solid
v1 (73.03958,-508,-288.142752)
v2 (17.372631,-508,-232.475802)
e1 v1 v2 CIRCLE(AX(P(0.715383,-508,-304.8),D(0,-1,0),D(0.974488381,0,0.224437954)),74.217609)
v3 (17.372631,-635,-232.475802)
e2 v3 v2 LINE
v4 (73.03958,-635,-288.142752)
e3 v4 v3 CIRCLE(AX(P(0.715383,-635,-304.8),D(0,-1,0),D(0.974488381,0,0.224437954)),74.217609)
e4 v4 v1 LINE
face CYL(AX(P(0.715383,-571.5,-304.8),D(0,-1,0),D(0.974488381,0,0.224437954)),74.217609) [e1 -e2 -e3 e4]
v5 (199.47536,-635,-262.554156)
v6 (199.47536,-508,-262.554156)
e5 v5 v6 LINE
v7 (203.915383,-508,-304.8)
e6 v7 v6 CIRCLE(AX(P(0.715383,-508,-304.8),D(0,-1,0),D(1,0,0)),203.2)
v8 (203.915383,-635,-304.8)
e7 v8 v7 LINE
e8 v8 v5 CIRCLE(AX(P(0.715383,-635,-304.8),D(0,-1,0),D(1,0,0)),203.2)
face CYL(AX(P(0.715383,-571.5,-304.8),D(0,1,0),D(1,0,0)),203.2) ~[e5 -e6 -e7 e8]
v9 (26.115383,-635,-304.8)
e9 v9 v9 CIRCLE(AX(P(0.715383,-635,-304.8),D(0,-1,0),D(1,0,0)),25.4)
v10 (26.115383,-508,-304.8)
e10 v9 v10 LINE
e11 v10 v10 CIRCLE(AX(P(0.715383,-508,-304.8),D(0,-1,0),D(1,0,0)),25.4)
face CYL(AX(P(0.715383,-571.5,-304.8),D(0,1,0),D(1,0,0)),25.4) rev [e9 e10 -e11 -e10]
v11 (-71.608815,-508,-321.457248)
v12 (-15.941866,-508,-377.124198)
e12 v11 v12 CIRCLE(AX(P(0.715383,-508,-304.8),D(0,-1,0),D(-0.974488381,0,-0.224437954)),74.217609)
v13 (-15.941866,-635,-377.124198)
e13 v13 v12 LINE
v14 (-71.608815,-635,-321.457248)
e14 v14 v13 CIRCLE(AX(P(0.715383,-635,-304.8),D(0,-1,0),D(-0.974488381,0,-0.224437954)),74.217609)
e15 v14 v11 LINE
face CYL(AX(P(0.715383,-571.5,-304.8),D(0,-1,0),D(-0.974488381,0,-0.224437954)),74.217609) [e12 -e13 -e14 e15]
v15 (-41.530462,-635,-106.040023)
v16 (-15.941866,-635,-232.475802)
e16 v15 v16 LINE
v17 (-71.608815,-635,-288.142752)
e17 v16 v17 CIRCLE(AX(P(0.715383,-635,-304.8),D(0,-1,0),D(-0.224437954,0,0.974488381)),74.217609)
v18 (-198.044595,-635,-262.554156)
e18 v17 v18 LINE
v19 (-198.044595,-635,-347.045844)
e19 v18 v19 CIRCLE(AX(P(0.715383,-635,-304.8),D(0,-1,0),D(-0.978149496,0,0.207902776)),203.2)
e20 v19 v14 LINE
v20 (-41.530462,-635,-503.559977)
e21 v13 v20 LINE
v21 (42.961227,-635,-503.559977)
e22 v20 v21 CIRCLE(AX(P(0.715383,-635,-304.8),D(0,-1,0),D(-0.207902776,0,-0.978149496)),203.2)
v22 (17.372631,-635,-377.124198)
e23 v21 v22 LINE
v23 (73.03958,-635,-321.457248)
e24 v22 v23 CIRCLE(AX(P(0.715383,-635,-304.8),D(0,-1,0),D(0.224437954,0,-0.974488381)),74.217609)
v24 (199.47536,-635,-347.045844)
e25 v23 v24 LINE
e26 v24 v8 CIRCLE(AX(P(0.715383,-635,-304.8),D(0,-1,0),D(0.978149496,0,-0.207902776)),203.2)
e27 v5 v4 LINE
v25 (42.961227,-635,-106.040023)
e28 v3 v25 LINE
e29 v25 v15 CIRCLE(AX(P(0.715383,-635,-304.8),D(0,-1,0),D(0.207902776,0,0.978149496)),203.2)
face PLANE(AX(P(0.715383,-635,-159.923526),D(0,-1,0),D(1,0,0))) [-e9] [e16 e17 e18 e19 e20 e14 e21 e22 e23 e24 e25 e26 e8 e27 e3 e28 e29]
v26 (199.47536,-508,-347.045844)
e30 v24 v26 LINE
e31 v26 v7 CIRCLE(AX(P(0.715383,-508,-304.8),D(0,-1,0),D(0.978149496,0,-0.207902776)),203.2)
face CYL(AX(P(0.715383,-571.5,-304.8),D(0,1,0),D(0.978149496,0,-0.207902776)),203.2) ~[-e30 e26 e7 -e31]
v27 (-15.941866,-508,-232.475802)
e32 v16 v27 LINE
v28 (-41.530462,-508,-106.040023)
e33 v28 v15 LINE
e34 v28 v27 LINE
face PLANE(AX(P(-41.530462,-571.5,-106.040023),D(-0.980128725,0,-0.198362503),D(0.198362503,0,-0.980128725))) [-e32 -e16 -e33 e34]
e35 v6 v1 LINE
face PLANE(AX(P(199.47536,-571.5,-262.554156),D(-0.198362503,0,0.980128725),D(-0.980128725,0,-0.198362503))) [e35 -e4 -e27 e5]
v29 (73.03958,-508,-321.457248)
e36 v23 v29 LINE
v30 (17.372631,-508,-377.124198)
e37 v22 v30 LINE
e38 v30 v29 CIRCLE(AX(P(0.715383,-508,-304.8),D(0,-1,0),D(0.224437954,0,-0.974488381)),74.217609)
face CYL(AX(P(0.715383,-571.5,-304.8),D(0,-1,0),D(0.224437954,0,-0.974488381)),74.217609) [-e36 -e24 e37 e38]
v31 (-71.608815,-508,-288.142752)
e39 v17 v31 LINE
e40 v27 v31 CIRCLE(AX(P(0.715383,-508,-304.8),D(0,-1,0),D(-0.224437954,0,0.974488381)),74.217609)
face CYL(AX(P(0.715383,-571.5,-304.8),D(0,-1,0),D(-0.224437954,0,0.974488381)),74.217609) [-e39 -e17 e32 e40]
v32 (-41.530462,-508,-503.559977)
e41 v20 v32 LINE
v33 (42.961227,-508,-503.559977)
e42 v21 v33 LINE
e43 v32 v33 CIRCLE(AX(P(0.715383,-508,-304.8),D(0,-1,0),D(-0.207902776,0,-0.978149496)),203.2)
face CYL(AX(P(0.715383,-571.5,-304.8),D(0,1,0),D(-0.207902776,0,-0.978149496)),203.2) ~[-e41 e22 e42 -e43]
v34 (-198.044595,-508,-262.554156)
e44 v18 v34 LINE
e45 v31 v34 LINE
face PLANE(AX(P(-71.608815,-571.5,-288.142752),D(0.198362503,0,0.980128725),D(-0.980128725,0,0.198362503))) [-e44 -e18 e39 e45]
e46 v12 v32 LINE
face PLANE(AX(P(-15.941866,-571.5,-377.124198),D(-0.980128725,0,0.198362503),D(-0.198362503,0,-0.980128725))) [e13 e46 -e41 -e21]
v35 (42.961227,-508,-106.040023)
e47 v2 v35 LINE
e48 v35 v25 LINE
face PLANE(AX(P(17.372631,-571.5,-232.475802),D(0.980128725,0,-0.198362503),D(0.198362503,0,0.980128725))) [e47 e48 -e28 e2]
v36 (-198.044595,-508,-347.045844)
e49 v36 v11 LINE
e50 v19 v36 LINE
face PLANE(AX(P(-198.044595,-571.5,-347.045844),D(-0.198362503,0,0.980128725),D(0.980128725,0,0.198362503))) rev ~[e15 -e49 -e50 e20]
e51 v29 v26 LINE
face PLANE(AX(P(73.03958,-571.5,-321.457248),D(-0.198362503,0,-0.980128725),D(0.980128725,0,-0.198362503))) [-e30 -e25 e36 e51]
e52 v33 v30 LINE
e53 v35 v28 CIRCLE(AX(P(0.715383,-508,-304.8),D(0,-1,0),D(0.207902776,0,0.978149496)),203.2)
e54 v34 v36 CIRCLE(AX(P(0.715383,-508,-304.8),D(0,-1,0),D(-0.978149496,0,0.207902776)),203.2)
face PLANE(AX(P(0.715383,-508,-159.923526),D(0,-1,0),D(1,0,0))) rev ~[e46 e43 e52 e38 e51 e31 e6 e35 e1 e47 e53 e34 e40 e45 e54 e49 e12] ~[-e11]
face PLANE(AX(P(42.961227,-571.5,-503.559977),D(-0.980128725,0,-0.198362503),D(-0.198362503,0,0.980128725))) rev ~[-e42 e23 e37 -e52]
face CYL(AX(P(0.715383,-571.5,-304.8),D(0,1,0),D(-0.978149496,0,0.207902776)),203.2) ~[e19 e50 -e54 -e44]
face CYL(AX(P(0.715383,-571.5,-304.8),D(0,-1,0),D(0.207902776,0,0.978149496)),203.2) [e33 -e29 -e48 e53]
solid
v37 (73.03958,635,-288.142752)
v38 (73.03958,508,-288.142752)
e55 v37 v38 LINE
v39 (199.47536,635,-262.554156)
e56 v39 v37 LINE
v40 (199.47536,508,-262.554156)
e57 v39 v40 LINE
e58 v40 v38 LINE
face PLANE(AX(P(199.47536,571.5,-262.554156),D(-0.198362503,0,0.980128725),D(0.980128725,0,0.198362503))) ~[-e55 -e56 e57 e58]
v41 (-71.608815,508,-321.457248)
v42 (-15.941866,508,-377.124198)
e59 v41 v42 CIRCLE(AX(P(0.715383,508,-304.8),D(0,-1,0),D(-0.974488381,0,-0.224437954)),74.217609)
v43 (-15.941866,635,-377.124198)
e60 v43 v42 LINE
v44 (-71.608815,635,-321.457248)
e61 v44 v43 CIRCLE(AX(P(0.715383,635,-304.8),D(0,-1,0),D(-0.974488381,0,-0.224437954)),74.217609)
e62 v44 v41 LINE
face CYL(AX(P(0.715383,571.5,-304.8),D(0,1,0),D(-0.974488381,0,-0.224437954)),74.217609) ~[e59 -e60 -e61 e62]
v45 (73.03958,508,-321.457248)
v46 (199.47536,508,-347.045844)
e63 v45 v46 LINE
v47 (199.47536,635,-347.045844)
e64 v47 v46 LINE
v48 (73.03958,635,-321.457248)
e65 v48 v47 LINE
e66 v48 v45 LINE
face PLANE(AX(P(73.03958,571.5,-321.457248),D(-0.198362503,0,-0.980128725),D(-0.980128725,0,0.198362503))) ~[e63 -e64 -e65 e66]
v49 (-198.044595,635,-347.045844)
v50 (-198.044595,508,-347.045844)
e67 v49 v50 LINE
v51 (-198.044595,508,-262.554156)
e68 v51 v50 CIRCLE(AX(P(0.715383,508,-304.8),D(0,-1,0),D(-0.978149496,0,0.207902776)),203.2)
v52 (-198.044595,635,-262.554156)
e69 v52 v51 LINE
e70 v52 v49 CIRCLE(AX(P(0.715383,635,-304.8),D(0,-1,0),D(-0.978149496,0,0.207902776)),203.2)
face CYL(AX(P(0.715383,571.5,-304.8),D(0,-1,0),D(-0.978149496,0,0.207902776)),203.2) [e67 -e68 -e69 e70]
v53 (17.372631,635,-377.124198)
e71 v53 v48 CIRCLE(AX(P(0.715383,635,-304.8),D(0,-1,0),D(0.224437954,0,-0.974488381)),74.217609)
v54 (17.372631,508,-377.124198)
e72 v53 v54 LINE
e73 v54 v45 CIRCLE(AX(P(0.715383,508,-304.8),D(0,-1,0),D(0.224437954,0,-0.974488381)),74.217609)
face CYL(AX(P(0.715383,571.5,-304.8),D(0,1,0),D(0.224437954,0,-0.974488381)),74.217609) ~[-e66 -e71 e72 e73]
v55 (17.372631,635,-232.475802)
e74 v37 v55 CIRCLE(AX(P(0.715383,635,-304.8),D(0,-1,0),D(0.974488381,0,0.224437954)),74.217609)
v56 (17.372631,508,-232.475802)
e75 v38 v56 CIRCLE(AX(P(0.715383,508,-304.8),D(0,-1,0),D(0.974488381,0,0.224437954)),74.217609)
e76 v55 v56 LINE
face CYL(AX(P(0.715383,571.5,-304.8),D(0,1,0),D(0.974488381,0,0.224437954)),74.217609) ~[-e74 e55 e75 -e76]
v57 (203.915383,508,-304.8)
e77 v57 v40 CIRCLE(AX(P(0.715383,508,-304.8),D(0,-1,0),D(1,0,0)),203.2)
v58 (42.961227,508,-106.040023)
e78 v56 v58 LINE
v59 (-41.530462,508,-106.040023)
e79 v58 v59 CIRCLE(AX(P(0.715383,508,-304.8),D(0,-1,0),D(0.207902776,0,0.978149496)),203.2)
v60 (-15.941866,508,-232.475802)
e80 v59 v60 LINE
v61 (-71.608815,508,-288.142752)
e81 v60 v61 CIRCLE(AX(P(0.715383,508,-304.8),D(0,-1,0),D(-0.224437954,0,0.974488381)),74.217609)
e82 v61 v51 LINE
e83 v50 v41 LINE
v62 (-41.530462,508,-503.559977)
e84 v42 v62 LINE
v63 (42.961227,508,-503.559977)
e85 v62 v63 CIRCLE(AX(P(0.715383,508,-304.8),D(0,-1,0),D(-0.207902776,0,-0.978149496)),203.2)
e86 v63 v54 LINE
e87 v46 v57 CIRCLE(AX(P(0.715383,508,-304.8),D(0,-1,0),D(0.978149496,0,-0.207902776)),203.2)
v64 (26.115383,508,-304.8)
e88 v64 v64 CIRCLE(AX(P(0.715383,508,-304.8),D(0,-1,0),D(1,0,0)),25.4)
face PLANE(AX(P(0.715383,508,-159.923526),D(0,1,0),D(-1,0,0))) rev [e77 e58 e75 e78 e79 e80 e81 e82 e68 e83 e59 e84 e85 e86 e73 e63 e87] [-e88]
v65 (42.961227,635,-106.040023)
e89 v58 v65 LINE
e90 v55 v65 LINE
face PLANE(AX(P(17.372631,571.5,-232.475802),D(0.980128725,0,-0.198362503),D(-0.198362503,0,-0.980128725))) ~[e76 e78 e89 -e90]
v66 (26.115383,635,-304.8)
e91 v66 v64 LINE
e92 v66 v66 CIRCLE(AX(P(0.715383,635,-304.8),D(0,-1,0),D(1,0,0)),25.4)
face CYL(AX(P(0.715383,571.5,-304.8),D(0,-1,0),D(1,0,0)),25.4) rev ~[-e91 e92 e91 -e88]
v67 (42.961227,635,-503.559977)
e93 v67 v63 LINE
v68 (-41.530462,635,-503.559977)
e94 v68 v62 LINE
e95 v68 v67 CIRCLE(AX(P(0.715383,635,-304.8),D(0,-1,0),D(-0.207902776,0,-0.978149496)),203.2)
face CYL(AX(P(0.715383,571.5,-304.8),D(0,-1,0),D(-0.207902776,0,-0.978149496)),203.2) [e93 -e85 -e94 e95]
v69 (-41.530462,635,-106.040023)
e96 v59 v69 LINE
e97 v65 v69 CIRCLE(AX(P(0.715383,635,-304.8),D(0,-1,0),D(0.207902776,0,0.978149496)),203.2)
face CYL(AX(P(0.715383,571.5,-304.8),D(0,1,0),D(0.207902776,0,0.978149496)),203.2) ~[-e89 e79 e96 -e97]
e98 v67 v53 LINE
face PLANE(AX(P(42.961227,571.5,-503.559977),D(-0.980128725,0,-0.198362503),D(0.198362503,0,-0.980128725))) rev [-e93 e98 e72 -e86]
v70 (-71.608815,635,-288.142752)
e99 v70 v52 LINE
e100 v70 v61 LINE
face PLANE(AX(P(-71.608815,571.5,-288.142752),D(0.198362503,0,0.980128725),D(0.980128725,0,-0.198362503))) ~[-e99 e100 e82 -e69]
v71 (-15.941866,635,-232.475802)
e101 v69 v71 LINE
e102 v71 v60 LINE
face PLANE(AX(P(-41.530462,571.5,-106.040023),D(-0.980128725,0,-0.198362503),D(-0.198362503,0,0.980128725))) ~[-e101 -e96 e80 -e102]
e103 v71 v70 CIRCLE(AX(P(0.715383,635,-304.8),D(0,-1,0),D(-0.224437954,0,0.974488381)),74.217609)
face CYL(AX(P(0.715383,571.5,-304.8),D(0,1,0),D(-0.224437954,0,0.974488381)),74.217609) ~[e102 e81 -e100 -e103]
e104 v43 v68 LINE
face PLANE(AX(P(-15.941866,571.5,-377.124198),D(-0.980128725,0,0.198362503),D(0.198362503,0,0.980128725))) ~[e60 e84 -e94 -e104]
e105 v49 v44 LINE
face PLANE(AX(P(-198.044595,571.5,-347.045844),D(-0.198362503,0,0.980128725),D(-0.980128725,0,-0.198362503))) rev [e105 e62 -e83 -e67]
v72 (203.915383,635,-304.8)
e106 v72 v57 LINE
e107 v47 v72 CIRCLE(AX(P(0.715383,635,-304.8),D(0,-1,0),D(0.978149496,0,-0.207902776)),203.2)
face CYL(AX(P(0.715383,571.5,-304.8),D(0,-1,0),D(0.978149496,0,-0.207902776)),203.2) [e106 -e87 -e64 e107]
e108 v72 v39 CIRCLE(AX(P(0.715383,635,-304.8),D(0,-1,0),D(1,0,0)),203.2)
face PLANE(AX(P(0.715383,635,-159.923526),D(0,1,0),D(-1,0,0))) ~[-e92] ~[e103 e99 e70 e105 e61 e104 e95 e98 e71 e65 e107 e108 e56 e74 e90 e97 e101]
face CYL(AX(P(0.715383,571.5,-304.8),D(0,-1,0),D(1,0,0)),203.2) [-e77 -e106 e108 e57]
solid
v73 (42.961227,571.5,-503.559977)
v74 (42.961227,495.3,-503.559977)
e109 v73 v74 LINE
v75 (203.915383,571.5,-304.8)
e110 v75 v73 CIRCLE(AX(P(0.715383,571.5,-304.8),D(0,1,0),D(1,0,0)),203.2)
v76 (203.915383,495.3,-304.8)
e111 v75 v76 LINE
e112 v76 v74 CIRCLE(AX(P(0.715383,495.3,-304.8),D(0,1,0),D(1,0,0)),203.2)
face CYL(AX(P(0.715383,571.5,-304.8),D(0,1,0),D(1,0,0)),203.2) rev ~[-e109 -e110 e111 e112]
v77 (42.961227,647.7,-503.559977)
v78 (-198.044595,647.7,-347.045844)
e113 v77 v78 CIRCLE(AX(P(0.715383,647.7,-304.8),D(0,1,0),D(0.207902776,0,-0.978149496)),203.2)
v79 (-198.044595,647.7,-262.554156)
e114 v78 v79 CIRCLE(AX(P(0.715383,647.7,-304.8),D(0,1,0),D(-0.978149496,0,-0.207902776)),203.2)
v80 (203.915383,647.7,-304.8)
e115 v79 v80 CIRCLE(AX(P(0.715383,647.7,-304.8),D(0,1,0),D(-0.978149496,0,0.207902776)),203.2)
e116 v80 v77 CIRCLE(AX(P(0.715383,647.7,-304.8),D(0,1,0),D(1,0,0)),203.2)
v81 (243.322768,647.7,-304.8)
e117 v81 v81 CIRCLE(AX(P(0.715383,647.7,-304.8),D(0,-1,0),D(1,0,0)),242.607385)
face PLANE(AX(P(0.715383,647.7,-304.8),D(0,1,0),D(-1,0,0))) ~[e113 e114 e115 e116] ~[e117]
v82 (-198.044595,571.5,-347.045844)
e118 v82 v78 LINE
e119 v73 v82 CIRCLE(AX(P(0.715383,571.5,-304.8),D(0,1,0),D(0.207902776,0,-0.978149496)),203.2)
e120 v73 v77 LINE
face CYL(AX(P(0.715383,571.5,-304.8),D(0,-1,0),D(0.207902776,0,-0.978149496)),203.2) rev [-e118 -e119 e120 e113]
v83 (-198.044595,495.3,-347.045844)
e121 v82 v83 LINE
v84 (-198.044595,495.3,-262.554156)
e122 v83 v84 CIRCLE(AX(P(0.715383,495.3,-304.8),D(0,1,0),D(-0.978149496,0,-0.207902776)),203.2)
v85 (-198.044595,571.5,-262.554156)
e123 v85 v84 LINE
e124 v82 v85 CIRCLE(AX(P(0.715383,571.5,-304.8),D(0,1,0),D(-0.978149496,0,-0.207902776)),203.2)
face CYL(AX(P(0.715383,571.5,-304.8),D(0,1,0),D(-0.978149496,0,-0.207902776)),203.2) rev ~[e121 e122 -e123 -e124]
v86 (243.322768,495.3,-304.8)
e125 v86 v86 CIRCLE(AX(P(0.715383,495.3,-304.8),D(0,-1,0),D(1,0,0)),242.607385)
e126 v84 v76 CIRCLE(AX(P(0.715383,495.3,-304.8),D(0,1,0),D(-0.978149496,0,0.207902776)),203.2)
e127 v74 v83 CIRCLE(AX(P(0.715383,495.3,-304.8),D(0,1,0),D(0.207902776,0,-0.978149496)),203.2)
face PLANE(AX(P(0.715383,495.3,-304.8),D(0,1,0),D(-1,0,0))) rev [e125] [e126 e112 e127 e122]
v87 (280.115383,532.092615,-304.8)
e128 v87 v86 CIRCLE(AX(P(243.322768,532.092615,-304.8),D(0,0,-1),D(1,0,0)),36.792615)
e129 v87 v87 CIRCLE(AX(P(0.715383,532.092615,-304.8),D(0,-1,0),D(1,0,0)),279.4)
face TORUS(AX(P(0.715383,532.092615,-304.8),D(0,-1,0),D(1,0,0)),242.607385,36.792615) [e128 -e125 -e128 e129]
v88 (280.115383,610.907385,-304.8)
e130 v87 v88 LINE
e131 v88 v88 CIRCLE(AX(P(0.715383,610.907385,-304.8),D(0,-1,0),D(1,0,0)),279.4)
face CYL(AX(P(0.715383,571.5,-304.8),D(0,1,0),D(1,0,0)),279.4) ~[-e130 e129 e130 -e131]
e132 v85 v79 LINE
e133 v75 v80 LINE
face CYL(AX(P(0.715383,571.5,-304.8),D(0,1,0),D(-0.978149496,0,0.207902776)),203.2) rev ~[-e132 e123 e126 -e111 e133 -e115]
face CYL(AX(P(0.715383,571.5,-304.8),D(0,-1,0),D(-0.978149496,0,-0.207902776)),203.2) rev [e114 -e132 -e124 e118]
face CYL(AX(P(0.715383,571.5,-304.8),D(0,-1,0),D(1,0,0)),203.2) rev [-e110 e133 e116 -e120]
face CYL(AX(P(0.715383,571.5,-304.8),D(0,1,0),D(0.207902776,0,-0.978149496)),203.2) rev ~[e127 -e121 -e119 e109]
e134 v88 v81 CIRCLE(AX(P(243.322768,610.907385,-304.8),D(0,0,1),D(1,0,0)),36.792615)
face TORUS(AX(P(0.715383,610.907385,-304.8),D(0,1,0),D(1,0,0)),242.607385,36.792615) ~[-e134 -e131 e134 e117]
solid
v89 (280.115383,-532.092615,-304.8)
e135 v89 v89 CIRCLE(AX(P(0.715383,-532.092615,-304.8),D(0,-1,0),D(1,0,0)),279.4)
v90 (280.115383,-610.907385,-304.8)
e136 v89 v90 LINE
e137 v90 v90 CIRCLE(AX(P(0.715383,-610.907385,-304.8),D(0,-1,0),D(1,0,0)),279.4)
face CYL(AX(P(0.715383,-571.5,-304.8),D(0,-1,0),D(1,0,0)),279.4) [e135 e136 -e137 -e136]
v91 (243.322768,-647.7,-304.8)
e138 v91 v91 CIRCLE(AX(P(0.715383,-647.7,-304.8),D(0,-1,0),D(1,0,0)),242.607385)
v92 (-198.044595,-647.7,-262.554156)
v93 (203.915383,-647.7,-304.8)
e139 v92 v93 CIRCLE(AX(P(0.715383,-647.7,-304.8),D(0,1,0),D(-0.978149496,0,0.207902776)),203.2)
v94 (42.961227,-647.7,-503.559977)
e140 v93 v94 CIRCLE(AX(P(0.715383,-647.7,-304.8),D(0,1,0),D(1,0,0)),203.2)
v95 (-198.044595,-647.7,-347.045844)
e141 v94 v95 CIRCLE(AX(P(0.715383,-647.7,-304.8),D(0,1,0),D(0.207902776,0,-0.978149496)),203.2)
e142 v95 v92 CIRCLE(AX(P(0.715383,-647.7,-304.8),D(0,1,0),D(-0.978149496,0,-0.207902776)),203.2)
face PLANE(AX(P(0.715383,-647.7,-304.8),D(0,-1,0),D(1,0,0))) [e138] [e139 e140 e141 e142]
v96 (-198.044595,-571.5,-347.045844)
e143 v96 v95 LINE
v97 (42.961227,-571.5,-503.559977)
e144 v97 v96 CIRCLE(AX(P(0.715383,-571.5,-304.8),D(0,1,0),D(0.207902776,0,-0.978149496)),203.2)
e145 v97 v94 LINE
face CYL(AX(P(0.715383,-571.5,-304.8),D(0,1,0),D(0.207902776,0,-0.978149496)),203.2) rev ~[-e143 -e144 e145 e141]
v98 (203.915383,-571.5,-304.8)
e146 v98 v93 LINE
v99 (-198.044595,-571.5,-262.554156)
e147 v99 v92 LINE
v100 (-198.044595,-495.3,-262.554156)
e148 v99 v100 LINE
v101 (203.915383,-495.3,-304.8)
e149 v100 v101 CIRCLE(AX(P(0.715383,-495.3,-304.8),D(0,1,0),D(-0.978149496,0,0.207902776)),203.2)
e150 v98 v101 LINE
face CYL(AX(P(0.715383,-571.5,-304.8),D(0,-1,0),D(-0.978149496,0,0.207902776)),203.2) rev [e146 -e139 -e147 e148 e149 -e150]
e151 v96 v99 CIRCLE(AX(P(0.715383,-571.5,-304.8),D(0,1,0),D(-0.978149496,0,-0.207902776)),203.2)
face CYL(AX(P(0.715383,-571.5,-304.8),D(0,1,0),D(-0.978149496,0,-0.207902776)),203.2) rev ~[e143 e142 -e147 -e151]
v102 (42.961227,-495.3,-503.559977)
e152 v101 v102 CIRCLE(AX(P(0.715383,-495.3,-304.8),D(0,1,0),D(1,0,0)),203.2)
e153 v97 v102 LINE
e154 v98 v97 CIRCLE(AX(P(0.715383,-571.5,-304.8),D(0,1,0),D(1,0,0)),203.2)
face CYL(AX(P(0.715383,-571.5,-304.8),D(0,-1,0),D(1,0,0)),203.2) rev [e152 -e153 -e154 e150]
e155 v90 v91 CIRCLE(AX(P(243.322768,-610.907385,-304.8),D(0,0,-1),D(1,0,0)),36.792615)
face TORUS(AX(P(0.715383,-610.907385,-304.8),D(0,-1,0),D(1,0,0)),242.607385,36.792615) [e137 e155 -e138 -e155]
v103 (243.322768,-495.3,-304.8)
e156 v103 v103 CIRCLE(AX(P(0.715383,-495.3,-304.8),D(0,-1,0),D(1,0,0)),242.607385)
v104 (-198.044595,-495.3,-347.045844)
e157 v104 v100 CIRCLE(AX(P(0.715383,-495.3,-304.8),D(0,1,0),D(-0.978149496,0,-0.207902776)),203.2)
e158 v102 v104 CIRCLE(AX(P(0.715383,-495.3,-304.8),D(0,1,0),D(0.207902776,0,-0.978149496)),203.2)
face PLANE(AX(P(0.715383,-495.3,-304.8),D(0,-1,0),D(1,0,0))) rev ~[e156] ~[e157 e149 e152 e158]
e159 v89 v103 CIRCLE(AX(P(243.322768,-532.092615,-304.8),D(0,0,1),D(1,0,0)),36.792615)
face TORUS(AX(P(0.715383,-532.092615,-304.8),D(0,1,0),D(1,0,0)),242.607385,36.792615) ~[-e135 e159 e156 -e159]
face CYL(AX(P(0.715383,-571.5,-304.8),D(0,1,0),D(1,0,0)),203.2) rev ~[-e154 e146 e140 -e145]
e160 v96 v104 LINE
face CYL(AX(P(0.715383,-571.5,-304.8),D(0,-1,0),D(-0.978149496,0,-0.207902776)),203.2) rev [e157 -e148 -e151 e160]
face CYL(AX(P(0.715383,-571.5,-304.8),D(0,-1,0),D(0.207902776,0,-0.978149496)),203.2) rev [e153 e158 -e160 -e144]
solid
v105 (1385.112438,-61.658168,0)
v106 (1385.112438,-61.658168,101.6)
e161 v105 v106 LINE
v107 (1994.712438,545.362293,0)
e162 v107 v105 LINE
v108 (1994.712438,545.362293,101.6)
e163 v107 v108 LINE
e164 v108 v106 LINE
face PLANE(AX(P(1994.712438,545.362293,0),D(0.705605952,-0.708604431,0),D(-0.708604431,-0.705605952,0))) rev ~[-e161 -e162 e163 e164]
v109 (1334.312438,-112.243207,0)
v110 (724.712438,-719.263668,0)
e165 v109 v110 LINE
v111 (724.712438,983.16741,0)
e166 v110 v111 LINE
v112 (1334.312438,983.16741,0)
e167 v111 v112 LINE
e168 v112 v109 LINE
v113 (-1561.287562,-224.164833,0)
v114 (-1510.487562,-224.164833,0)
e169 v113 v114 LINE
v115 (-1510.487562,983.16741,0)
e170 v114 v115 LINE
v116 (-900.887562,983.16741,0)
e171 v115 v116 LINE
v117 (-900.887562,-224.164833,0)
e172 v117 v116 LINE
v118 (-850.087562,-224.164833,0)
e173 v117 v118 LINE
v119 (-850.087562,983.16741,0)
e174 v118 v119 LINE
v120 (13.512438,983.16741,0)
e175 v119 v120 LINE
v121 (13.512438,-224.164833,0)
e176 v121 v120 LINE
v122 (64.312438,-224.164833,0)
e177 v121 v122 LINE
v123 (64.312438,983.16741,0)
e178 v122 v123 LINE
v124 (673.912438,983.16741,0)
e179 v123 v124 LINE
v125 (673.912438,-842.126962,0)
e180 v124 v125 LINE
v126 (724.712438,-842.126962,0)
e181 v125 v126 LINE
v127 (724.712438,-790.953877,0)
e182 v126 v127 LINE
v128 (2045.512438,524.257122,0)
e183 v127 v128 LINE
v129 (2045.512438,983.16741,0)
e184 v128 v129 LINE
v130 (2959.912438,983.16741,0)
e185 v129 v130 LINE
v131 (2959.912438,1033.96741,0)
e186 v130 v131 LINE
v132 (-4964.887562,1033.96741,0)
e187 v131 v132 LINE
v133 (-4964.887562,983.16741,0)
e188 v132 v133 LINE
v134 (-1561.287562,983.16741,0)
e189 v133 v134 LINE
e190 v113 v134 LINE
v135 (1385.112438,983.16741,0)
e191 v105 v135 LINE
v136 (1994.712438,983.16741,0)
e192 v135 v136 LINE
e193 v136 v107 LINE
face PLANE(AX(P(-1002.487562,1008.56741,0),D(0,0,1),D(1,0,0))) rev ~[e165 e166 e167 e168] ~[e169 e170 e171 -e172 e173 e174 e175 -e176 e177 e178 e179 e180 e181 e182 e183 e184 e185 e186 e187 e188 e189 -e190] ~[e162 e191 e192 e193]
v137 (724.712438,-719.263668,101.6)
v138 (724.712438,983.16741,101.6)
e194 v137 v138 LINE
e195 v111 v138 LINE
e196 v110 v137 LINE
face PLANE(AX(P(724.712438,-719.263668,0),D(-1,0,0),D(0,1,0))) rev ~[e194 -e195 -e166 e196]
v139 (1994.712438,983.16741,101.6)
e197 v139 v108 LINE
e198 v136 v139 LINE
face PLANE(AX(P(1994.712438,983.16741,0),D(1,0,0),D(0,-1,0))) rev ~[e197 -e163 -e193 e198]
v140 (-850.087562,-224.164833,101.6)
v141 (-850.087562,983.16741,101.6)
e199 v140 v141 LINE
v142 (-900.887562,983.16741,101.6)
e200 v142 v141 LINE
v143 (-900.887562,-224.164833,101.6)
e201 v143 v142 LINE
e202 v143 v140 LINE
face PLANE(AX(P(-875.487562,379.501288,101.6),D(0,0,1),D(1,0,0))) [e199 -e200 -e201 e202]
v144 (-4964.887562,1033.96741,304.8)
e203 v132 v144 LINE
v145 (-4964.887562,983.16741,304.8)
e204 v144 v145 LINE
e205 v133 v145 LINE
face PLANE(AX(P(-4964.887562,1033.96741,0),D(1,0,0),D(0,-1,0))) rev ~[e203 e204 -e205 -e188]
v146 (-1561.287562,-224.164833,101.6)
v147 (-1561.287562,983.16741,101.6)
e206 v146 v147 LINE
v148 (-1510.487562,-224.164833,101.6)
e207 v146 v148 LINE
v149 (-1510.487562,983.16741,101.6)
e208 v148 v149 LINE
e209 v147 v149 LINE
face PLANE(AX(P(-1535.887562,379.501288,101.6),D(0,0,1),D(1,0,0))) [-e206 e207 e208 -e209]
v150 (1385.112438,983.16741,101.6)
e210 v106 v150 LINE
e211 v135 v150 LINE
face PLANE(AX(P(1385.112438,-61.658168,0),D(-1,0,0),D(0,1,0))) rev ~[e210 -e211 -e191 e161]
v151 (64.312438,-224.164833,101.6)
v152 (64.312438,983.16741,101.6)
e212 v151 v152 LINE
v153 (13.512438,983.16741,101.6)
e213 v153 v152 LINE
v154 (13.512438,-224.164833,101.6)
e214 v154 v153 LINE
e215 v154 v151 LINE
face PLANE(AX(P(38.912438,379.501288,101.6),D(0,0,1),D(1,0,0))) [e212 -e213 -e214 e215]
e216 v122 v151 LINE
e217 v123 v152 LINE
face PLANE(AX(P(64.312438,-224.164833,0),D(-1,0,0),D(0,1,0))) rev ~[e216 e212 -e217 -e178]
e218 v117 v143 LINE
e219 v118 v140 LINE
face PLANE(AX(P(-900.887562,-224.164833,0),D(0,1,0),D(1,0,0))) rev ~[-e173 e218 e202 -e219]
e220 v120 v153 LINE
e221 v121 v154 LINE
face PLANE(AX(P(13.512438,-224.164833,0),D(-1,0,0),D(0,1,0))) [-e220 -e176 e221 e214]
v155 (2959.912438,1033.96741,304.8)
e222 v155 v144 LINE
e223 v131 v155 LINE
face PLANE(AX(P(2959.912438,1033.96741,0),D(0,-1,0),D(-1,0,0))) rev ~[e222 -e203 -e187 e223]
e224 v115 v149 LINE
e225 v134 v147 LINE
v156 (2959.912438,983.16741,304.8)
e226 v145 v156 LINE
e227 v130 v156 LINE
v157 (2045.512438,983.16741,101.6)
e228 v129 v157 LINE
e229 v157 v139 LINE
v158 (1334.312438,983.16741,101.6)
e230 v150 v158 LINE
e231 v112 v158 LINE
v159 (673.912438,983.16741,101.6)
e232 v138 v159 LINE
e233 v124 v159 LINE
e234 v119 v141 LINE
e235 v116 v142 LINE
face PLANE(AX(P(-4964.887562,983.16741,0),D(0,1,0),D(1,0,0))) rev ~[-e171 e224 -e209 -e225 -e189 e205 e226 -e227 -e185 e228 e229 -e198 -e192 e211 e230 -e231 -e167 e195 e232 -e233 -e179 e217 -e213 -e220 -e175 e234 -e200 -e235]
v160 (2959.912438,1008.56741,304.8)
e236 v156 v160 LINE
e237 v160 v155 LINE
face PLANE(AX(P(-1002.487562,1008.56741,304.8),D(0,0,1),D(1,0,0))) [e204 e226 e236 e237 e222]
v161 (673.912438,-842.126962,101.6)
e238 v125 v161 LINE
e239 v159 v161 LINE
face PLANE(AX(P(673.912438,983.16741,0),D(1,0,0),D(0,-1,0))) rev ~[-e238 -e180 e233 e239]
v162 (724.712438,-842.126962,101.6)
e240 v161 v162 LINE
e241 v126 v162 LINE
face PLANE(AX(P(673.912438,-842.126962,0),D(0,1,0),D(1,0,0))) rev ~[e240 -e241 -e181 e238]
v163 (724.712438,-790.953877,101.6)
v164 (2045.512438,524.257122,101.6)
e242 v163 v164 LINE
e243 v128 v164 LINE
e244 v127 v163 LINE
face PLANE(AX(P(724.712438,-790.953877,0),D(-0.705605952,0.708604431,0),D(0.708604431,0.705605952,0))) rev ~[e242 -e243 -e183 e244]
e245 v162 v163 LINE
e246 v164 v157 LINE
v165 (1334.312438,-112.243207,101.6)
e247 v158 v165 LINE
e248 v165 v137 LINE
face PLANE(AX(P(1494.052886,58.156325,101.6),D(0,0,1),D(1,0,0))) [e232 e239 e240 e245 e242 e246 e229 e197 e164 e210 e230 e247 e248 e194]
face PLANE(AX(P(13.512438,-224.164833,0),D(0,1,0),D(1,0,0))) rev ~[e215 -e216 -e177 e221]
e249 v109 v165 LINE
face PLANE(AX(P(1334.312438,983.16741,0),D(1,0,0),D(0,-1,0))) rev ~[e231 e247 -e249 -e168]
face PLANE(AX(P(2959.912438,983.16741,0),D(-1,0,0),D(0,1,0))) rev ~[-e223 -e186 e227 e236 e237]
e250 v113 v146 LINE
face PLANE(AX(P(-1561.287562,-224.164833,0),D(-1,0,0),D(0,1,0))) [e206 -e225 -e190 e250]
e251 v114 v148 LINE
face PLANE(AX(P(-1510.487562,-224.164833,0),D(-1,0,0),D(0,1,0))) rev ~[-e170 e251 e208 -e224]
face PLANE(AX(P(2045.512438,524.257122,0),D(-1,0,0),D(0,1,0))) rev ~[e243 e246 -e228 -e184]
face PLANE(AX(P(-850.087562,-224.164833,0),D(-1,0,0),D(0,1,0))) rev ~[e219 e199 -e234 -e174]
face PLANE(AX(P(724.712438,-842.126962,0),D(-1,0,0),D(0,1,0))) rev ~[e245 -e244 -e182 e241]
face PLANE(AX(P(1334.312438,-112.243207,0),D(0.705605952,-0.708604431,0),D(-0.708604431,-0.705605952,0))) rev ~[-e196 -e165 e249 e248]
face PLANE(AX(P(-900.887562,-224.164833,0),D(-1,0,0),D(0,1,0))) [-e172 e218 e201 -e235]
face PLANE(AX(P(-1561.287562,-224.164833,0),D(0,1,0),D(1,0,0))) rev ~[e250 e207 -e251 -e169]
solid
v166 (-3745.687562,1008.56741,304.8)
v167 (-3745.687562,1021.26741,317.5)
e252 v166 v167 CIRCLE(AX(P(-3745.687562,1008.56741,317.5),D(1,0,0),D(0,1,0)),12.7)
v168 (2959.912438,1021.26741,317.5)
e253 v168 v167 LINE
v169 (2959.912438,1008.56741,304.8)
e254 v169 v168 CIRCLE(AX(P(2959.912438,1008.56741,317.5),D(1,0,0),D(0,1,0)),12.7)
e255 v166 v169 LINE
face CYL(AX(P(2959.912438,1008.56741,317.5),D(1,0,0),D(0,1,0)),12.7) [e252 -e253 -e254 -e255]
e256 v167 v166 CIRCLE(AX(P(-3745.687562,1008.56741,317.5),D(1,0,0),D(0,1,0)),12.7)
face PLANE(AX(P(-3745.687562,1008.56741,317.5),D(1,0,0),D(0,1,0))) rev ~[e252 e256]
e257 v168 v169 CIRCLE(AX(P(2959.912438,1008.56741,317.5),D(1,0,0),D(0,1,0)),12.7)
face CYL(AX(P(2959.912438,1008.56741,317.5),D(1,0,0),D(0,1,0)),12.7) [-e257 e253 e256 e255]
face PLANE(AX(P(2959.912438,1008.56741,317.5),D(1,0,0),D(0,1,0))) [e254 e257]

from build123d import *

# Parameters (mm, degrees)
F1_DEPTH = 304.8
F0_W     = 50.8
F0_H     = 1207.3322428613
F2_DEPTH = 101.6
F3_R     = 12.7
F4_DEPTH = 6705.6
F6_R     = 279.4
F7_DEPTH = 76.2
F8_R     = 36.7926146906
F6_R_2   = 25.4
F9_DEPTH = 63.5


with BuildPart() as f1:
    # F0 (on Top) → F1 (new body)
    with BuildSketch(Plane.XY):
        Polygon((2959.9124378204, 1033.9674098969), (-4964.8875621796, 1033.9674098968), (-4964.8875621796, 983.1674098968), (-4660.0875621796, 983.1674098968), (-4202.8875621796, 983.1674098968), (-3898.0875621796, 983.1674098968), (-3491.6875621796, 983.1674098968), (-1561.2875621796, 983.1674098968), (-1510.4875621796, 983.1674098968), (-900.8875621796, 983.1674098968), (-850.0875621796, 983.1674098968), (13.5124378204, 983.1674098969), (64.3124378204, 983.1674098969), (673.9124378204, 983.1674098969), (724.7124378204, 983.1674098969), (1334.3124378204, 983.1674098969), (1385.1124378204, 983.1674098969), (1468.616296829, 983.1674098969), (1544.816296829, 983.1674098969), (1994.7124378204, 983.1674098969), (2045.5124378204, 983.1674098969), (2959.9124378204, 983.1674098969), align=None)
    extrude(amount=F1_DEPTH)

    # F0 (on Top) → F2 (join)
    with BuildSketch(Plane.XY):
        Polygon((2045.5124378204, 524.2571219418), (2045.5124378204, 983.1674098969), (1994.7124378204, 983.1674098969), (1994.7124378204, 545.3622928389), (1385.1124378204, -61.6581682041), (1334.3124378204, -112.2432066244), (724.7124378204, -719.2636676675), (724.7124378204, -790.9538769849), align=None)
        Polygon((1334.3124378204, -112.2432066244), (1385.1124378204, -61.6581682041), (1385.1124378204, 983.1674098969), (1334.3124378204, 983.1674098969), align=None)
        Polygon((724.7124378204, -842.1269621186), (724.7124378204, -790.9538769849), (724.7124378204, -719.2636676675), (724.7124378204, 983.1674098969), (673.9124378204, 983.1674098969), (673.9124378204, -842.1269621186), align=None)
        with Locations((38.9124378204, 379.5012884662)):
            Rectangle(F0_W, F0_H)
        with Locations((-875.4875621796, 379.5012884662)):
            Rectangle(F0_W, F0_H)
        with Locations((-1535.8875621796, 379.5012884662)):
            Rectangle(F0_W, F0_H)
    extrude(amount=F2_DEPTH)

    # F3 (on face) → F4 (join)
    with BuildSketch(Plane.YZ.offset(2959.9124378204)):
        with Locations((1008.5674098969, 317.5)):
            Circle(F3_R)
    extrude(amount=-F4_DEPTH)


with BuildPart() as f7:
    # F6 (on offset) → F7 (new body, symmetric)
    with BuildSketch(Plane.XZ.offset(571.5)):
        with Locations((0.7153825136, -304.8)):
            Circle(F6_R)
        with BuildLine():
            ThreePointArc((199.4753600063, -262.5541558601), (202.8023284385, -283.5607371423), (203.9153825136, -304.8))
            ThreePointArc((203.9153825136, -304.8), (202.8023284385, -326.0392628577), (199.4753600063, -347.0458441399))
            ThreePointArc((199.4753600063, -347.0458441399), (144.3994804507, -448.4840979371), (42.9612266535, -503.5599774927))
            ThreePointArc((42.9612266535, -503.5599774927), (0.7153825136, -508), (-41.5304616264, -503.5599774927))
            ThreePointArc((-41.5304616264, -503.5599774927), (-142.9687154235, -448.4840979371), (-198.0445949791, -347.0458441399))
            ThreePointArc((-198.0445949791, -347.0458441399), (-202.4846174864, -304.8), (-198.0445949791, -262.5541558601))
            ThreePointArc((-198.0445949791, -262.5541558601), (-142.9687154235, -161.1159020629), (-41.5304616264, -106.0400225073))
            ThreePointArc((-41.5304616264, -106.0400225073), (0.7153825136, -101.6), (42.9612266535, -106.0400225073))
            ThreePointArc((42.9612266535, -106.0400225073), (144.3994804507, -161.1159020629), (199.4753600063, -262.5541558601))
        make_face(mode=Mode.SUBTRACT)
    extrude(amount=F7_DEPTH, both=True)

    # F8
    f8_edges = [f7.edges().sort_by_distance(p)[0] for p in [
        (-278.684617, -647.7, -304.8),
        (-278.684617, -495.3, -304.8),
    ]]
    fillet(f8_edges, radius=F8_R)


with BuildPart() as f9:
    # F6 (on offset) → F9 (new body, symmetric)
    with BuildSketch(Plane.XZ.offset(571.5)):
        with BuildLine():
            Line((17.3726308944, -232.4758021782), (42.9612266535, -106.0400225073))
            ThreePointArc((42.9612266535, -106.0400225073), (0.7153825136, -101.6), (-41.5304616264, -106.0400225073))
            Line((-41.5304616264, -106.0400225073), (-15.9418658672, -232.4758021782))
            ThreePointArc((-15.9418658672, -232.4758021782), (0.7153825136, -230.582390808), (17.3726308944, -232.4758021782))
        make_face()
        with BuildLine():
            ThreePointArc((199.4753600063, -347.0458441399), (202.8023284385, -326.0392628577), (203.9153825136, -304.8))
            ThreePointArc((203.9153825136, -304.8), (202.8023284385, -283.5607371423), (199.4753600063, -262.5541558601))
            Line((199.4753600063, -262.5541558601), (73.0395803353, -288.1427516192))
            ThreePointArc((73.0395803353, -288.1427516192), (74.4581196585, -296.4177429913), (74.9329917056, -304.8))
            ThreePointArc((74.9329917056, -304.8), (74.4581196585, -313.1822570087), (73.0395803353, -321.4572483808))
            Line((73.0395803353, -321.4572483808), (199.4753600063, -347.0458441399))
        make_face()
        with BuildLine():
            Line((-71.6088153082, -288.1427516192), (-198.0445949791, -262.5541558601))
            ThreePointArc((-198.0445949791, -262.5541558601), (-202.4846174864, -304.8), (-198.0445949791, -347.0458441399))
            Line((-198.0445949791, -347.0458441399), (-71.6088153082, -321.4572483808))
            ThreePointArc((-71.6088153082, -321.4572483808), (-73.5022266784, -304.8), (-71.6088153082, -288.1427516192))
        make_face()
        with BuildLine():
            ThreePointArc((-41.5304616264, -503.5599774927), (0.7153825136, -508), (42.9612266535, -503.5599774927))
            Line((42.9612266535, -503.5599774927), (17.3726308944, -377.1241978218))
            ThreePointArc((17.3726308944, -377.1241978218), (0.7153825136, -379.017609192), (-15.9418658672, -377.1241978218))
            Line((-15.9418658672, -377.1241978218), (-41.5304616264, -503.5599774927))
        make_face()
        with BuildLine():
            ThreePointArc((74.9329917056, -304.8), (74.4581196585, -296.4177429913), (73.0395803353, -288.1427516192))
            ThreePointArc((73.0395803353, -288.1427516192), (53.1951572567, -252.3202252569), (17.3726308944, -232.4758021782))
            ThreePointArc((17.3726308944, -232.4758021782), (0.7153825136, -230.582390808), (-15.9418658672, -232.4758021782))
            ThreePointArc((-15.9418658672, -232.4758021782), (-51.7643922295, -252.3202252569), (-71.6088153082, -288.1427516192))
            ThreePointArc((-71.6088153082, -288.1427516192), (-73.5022266784, -304.8), (-71.6088153082, -321.4572483808))
            ThreePointArc((-71.6088153082, -321.4572483808), (-51.7643922295, -357.2797747431), (-15.9418658672, -377.1241978218))
            ThreePointArc((-15.9418658672, -377.1241978218), (0.7153825136, -379.017609192), (17.3726308944, -377.1241978218))
            ThreePointArc((17.3726308944, -377.1241978218), (53.1951572567, -357.2797747431), (73.0395803353, -321.4572483808))
            ThreePointArc((73.0395803353, -321.4572483808), (74.4581196585, -313.1822570087), (74.9329917056, -304.8))
        make_face()
        with Locations((0.7153825136, -304.8)):
            Circle(F6_R_2, mode=Mode.SUBTRACT)
    extrude(amount=F9_DEPTH, both=True)


with BuildPart() as f10_1:
    # F10: instance of F9
    add(f9.part.mirror(Plane.XZ))


with BuildPart() as f10_2:
    # F10: instance of F7
    add(f7.part.mirror(Plane.XZ))


solid = Compound([f1.part, f7.part, f9.part, f10_1.part, f10_2.part])
